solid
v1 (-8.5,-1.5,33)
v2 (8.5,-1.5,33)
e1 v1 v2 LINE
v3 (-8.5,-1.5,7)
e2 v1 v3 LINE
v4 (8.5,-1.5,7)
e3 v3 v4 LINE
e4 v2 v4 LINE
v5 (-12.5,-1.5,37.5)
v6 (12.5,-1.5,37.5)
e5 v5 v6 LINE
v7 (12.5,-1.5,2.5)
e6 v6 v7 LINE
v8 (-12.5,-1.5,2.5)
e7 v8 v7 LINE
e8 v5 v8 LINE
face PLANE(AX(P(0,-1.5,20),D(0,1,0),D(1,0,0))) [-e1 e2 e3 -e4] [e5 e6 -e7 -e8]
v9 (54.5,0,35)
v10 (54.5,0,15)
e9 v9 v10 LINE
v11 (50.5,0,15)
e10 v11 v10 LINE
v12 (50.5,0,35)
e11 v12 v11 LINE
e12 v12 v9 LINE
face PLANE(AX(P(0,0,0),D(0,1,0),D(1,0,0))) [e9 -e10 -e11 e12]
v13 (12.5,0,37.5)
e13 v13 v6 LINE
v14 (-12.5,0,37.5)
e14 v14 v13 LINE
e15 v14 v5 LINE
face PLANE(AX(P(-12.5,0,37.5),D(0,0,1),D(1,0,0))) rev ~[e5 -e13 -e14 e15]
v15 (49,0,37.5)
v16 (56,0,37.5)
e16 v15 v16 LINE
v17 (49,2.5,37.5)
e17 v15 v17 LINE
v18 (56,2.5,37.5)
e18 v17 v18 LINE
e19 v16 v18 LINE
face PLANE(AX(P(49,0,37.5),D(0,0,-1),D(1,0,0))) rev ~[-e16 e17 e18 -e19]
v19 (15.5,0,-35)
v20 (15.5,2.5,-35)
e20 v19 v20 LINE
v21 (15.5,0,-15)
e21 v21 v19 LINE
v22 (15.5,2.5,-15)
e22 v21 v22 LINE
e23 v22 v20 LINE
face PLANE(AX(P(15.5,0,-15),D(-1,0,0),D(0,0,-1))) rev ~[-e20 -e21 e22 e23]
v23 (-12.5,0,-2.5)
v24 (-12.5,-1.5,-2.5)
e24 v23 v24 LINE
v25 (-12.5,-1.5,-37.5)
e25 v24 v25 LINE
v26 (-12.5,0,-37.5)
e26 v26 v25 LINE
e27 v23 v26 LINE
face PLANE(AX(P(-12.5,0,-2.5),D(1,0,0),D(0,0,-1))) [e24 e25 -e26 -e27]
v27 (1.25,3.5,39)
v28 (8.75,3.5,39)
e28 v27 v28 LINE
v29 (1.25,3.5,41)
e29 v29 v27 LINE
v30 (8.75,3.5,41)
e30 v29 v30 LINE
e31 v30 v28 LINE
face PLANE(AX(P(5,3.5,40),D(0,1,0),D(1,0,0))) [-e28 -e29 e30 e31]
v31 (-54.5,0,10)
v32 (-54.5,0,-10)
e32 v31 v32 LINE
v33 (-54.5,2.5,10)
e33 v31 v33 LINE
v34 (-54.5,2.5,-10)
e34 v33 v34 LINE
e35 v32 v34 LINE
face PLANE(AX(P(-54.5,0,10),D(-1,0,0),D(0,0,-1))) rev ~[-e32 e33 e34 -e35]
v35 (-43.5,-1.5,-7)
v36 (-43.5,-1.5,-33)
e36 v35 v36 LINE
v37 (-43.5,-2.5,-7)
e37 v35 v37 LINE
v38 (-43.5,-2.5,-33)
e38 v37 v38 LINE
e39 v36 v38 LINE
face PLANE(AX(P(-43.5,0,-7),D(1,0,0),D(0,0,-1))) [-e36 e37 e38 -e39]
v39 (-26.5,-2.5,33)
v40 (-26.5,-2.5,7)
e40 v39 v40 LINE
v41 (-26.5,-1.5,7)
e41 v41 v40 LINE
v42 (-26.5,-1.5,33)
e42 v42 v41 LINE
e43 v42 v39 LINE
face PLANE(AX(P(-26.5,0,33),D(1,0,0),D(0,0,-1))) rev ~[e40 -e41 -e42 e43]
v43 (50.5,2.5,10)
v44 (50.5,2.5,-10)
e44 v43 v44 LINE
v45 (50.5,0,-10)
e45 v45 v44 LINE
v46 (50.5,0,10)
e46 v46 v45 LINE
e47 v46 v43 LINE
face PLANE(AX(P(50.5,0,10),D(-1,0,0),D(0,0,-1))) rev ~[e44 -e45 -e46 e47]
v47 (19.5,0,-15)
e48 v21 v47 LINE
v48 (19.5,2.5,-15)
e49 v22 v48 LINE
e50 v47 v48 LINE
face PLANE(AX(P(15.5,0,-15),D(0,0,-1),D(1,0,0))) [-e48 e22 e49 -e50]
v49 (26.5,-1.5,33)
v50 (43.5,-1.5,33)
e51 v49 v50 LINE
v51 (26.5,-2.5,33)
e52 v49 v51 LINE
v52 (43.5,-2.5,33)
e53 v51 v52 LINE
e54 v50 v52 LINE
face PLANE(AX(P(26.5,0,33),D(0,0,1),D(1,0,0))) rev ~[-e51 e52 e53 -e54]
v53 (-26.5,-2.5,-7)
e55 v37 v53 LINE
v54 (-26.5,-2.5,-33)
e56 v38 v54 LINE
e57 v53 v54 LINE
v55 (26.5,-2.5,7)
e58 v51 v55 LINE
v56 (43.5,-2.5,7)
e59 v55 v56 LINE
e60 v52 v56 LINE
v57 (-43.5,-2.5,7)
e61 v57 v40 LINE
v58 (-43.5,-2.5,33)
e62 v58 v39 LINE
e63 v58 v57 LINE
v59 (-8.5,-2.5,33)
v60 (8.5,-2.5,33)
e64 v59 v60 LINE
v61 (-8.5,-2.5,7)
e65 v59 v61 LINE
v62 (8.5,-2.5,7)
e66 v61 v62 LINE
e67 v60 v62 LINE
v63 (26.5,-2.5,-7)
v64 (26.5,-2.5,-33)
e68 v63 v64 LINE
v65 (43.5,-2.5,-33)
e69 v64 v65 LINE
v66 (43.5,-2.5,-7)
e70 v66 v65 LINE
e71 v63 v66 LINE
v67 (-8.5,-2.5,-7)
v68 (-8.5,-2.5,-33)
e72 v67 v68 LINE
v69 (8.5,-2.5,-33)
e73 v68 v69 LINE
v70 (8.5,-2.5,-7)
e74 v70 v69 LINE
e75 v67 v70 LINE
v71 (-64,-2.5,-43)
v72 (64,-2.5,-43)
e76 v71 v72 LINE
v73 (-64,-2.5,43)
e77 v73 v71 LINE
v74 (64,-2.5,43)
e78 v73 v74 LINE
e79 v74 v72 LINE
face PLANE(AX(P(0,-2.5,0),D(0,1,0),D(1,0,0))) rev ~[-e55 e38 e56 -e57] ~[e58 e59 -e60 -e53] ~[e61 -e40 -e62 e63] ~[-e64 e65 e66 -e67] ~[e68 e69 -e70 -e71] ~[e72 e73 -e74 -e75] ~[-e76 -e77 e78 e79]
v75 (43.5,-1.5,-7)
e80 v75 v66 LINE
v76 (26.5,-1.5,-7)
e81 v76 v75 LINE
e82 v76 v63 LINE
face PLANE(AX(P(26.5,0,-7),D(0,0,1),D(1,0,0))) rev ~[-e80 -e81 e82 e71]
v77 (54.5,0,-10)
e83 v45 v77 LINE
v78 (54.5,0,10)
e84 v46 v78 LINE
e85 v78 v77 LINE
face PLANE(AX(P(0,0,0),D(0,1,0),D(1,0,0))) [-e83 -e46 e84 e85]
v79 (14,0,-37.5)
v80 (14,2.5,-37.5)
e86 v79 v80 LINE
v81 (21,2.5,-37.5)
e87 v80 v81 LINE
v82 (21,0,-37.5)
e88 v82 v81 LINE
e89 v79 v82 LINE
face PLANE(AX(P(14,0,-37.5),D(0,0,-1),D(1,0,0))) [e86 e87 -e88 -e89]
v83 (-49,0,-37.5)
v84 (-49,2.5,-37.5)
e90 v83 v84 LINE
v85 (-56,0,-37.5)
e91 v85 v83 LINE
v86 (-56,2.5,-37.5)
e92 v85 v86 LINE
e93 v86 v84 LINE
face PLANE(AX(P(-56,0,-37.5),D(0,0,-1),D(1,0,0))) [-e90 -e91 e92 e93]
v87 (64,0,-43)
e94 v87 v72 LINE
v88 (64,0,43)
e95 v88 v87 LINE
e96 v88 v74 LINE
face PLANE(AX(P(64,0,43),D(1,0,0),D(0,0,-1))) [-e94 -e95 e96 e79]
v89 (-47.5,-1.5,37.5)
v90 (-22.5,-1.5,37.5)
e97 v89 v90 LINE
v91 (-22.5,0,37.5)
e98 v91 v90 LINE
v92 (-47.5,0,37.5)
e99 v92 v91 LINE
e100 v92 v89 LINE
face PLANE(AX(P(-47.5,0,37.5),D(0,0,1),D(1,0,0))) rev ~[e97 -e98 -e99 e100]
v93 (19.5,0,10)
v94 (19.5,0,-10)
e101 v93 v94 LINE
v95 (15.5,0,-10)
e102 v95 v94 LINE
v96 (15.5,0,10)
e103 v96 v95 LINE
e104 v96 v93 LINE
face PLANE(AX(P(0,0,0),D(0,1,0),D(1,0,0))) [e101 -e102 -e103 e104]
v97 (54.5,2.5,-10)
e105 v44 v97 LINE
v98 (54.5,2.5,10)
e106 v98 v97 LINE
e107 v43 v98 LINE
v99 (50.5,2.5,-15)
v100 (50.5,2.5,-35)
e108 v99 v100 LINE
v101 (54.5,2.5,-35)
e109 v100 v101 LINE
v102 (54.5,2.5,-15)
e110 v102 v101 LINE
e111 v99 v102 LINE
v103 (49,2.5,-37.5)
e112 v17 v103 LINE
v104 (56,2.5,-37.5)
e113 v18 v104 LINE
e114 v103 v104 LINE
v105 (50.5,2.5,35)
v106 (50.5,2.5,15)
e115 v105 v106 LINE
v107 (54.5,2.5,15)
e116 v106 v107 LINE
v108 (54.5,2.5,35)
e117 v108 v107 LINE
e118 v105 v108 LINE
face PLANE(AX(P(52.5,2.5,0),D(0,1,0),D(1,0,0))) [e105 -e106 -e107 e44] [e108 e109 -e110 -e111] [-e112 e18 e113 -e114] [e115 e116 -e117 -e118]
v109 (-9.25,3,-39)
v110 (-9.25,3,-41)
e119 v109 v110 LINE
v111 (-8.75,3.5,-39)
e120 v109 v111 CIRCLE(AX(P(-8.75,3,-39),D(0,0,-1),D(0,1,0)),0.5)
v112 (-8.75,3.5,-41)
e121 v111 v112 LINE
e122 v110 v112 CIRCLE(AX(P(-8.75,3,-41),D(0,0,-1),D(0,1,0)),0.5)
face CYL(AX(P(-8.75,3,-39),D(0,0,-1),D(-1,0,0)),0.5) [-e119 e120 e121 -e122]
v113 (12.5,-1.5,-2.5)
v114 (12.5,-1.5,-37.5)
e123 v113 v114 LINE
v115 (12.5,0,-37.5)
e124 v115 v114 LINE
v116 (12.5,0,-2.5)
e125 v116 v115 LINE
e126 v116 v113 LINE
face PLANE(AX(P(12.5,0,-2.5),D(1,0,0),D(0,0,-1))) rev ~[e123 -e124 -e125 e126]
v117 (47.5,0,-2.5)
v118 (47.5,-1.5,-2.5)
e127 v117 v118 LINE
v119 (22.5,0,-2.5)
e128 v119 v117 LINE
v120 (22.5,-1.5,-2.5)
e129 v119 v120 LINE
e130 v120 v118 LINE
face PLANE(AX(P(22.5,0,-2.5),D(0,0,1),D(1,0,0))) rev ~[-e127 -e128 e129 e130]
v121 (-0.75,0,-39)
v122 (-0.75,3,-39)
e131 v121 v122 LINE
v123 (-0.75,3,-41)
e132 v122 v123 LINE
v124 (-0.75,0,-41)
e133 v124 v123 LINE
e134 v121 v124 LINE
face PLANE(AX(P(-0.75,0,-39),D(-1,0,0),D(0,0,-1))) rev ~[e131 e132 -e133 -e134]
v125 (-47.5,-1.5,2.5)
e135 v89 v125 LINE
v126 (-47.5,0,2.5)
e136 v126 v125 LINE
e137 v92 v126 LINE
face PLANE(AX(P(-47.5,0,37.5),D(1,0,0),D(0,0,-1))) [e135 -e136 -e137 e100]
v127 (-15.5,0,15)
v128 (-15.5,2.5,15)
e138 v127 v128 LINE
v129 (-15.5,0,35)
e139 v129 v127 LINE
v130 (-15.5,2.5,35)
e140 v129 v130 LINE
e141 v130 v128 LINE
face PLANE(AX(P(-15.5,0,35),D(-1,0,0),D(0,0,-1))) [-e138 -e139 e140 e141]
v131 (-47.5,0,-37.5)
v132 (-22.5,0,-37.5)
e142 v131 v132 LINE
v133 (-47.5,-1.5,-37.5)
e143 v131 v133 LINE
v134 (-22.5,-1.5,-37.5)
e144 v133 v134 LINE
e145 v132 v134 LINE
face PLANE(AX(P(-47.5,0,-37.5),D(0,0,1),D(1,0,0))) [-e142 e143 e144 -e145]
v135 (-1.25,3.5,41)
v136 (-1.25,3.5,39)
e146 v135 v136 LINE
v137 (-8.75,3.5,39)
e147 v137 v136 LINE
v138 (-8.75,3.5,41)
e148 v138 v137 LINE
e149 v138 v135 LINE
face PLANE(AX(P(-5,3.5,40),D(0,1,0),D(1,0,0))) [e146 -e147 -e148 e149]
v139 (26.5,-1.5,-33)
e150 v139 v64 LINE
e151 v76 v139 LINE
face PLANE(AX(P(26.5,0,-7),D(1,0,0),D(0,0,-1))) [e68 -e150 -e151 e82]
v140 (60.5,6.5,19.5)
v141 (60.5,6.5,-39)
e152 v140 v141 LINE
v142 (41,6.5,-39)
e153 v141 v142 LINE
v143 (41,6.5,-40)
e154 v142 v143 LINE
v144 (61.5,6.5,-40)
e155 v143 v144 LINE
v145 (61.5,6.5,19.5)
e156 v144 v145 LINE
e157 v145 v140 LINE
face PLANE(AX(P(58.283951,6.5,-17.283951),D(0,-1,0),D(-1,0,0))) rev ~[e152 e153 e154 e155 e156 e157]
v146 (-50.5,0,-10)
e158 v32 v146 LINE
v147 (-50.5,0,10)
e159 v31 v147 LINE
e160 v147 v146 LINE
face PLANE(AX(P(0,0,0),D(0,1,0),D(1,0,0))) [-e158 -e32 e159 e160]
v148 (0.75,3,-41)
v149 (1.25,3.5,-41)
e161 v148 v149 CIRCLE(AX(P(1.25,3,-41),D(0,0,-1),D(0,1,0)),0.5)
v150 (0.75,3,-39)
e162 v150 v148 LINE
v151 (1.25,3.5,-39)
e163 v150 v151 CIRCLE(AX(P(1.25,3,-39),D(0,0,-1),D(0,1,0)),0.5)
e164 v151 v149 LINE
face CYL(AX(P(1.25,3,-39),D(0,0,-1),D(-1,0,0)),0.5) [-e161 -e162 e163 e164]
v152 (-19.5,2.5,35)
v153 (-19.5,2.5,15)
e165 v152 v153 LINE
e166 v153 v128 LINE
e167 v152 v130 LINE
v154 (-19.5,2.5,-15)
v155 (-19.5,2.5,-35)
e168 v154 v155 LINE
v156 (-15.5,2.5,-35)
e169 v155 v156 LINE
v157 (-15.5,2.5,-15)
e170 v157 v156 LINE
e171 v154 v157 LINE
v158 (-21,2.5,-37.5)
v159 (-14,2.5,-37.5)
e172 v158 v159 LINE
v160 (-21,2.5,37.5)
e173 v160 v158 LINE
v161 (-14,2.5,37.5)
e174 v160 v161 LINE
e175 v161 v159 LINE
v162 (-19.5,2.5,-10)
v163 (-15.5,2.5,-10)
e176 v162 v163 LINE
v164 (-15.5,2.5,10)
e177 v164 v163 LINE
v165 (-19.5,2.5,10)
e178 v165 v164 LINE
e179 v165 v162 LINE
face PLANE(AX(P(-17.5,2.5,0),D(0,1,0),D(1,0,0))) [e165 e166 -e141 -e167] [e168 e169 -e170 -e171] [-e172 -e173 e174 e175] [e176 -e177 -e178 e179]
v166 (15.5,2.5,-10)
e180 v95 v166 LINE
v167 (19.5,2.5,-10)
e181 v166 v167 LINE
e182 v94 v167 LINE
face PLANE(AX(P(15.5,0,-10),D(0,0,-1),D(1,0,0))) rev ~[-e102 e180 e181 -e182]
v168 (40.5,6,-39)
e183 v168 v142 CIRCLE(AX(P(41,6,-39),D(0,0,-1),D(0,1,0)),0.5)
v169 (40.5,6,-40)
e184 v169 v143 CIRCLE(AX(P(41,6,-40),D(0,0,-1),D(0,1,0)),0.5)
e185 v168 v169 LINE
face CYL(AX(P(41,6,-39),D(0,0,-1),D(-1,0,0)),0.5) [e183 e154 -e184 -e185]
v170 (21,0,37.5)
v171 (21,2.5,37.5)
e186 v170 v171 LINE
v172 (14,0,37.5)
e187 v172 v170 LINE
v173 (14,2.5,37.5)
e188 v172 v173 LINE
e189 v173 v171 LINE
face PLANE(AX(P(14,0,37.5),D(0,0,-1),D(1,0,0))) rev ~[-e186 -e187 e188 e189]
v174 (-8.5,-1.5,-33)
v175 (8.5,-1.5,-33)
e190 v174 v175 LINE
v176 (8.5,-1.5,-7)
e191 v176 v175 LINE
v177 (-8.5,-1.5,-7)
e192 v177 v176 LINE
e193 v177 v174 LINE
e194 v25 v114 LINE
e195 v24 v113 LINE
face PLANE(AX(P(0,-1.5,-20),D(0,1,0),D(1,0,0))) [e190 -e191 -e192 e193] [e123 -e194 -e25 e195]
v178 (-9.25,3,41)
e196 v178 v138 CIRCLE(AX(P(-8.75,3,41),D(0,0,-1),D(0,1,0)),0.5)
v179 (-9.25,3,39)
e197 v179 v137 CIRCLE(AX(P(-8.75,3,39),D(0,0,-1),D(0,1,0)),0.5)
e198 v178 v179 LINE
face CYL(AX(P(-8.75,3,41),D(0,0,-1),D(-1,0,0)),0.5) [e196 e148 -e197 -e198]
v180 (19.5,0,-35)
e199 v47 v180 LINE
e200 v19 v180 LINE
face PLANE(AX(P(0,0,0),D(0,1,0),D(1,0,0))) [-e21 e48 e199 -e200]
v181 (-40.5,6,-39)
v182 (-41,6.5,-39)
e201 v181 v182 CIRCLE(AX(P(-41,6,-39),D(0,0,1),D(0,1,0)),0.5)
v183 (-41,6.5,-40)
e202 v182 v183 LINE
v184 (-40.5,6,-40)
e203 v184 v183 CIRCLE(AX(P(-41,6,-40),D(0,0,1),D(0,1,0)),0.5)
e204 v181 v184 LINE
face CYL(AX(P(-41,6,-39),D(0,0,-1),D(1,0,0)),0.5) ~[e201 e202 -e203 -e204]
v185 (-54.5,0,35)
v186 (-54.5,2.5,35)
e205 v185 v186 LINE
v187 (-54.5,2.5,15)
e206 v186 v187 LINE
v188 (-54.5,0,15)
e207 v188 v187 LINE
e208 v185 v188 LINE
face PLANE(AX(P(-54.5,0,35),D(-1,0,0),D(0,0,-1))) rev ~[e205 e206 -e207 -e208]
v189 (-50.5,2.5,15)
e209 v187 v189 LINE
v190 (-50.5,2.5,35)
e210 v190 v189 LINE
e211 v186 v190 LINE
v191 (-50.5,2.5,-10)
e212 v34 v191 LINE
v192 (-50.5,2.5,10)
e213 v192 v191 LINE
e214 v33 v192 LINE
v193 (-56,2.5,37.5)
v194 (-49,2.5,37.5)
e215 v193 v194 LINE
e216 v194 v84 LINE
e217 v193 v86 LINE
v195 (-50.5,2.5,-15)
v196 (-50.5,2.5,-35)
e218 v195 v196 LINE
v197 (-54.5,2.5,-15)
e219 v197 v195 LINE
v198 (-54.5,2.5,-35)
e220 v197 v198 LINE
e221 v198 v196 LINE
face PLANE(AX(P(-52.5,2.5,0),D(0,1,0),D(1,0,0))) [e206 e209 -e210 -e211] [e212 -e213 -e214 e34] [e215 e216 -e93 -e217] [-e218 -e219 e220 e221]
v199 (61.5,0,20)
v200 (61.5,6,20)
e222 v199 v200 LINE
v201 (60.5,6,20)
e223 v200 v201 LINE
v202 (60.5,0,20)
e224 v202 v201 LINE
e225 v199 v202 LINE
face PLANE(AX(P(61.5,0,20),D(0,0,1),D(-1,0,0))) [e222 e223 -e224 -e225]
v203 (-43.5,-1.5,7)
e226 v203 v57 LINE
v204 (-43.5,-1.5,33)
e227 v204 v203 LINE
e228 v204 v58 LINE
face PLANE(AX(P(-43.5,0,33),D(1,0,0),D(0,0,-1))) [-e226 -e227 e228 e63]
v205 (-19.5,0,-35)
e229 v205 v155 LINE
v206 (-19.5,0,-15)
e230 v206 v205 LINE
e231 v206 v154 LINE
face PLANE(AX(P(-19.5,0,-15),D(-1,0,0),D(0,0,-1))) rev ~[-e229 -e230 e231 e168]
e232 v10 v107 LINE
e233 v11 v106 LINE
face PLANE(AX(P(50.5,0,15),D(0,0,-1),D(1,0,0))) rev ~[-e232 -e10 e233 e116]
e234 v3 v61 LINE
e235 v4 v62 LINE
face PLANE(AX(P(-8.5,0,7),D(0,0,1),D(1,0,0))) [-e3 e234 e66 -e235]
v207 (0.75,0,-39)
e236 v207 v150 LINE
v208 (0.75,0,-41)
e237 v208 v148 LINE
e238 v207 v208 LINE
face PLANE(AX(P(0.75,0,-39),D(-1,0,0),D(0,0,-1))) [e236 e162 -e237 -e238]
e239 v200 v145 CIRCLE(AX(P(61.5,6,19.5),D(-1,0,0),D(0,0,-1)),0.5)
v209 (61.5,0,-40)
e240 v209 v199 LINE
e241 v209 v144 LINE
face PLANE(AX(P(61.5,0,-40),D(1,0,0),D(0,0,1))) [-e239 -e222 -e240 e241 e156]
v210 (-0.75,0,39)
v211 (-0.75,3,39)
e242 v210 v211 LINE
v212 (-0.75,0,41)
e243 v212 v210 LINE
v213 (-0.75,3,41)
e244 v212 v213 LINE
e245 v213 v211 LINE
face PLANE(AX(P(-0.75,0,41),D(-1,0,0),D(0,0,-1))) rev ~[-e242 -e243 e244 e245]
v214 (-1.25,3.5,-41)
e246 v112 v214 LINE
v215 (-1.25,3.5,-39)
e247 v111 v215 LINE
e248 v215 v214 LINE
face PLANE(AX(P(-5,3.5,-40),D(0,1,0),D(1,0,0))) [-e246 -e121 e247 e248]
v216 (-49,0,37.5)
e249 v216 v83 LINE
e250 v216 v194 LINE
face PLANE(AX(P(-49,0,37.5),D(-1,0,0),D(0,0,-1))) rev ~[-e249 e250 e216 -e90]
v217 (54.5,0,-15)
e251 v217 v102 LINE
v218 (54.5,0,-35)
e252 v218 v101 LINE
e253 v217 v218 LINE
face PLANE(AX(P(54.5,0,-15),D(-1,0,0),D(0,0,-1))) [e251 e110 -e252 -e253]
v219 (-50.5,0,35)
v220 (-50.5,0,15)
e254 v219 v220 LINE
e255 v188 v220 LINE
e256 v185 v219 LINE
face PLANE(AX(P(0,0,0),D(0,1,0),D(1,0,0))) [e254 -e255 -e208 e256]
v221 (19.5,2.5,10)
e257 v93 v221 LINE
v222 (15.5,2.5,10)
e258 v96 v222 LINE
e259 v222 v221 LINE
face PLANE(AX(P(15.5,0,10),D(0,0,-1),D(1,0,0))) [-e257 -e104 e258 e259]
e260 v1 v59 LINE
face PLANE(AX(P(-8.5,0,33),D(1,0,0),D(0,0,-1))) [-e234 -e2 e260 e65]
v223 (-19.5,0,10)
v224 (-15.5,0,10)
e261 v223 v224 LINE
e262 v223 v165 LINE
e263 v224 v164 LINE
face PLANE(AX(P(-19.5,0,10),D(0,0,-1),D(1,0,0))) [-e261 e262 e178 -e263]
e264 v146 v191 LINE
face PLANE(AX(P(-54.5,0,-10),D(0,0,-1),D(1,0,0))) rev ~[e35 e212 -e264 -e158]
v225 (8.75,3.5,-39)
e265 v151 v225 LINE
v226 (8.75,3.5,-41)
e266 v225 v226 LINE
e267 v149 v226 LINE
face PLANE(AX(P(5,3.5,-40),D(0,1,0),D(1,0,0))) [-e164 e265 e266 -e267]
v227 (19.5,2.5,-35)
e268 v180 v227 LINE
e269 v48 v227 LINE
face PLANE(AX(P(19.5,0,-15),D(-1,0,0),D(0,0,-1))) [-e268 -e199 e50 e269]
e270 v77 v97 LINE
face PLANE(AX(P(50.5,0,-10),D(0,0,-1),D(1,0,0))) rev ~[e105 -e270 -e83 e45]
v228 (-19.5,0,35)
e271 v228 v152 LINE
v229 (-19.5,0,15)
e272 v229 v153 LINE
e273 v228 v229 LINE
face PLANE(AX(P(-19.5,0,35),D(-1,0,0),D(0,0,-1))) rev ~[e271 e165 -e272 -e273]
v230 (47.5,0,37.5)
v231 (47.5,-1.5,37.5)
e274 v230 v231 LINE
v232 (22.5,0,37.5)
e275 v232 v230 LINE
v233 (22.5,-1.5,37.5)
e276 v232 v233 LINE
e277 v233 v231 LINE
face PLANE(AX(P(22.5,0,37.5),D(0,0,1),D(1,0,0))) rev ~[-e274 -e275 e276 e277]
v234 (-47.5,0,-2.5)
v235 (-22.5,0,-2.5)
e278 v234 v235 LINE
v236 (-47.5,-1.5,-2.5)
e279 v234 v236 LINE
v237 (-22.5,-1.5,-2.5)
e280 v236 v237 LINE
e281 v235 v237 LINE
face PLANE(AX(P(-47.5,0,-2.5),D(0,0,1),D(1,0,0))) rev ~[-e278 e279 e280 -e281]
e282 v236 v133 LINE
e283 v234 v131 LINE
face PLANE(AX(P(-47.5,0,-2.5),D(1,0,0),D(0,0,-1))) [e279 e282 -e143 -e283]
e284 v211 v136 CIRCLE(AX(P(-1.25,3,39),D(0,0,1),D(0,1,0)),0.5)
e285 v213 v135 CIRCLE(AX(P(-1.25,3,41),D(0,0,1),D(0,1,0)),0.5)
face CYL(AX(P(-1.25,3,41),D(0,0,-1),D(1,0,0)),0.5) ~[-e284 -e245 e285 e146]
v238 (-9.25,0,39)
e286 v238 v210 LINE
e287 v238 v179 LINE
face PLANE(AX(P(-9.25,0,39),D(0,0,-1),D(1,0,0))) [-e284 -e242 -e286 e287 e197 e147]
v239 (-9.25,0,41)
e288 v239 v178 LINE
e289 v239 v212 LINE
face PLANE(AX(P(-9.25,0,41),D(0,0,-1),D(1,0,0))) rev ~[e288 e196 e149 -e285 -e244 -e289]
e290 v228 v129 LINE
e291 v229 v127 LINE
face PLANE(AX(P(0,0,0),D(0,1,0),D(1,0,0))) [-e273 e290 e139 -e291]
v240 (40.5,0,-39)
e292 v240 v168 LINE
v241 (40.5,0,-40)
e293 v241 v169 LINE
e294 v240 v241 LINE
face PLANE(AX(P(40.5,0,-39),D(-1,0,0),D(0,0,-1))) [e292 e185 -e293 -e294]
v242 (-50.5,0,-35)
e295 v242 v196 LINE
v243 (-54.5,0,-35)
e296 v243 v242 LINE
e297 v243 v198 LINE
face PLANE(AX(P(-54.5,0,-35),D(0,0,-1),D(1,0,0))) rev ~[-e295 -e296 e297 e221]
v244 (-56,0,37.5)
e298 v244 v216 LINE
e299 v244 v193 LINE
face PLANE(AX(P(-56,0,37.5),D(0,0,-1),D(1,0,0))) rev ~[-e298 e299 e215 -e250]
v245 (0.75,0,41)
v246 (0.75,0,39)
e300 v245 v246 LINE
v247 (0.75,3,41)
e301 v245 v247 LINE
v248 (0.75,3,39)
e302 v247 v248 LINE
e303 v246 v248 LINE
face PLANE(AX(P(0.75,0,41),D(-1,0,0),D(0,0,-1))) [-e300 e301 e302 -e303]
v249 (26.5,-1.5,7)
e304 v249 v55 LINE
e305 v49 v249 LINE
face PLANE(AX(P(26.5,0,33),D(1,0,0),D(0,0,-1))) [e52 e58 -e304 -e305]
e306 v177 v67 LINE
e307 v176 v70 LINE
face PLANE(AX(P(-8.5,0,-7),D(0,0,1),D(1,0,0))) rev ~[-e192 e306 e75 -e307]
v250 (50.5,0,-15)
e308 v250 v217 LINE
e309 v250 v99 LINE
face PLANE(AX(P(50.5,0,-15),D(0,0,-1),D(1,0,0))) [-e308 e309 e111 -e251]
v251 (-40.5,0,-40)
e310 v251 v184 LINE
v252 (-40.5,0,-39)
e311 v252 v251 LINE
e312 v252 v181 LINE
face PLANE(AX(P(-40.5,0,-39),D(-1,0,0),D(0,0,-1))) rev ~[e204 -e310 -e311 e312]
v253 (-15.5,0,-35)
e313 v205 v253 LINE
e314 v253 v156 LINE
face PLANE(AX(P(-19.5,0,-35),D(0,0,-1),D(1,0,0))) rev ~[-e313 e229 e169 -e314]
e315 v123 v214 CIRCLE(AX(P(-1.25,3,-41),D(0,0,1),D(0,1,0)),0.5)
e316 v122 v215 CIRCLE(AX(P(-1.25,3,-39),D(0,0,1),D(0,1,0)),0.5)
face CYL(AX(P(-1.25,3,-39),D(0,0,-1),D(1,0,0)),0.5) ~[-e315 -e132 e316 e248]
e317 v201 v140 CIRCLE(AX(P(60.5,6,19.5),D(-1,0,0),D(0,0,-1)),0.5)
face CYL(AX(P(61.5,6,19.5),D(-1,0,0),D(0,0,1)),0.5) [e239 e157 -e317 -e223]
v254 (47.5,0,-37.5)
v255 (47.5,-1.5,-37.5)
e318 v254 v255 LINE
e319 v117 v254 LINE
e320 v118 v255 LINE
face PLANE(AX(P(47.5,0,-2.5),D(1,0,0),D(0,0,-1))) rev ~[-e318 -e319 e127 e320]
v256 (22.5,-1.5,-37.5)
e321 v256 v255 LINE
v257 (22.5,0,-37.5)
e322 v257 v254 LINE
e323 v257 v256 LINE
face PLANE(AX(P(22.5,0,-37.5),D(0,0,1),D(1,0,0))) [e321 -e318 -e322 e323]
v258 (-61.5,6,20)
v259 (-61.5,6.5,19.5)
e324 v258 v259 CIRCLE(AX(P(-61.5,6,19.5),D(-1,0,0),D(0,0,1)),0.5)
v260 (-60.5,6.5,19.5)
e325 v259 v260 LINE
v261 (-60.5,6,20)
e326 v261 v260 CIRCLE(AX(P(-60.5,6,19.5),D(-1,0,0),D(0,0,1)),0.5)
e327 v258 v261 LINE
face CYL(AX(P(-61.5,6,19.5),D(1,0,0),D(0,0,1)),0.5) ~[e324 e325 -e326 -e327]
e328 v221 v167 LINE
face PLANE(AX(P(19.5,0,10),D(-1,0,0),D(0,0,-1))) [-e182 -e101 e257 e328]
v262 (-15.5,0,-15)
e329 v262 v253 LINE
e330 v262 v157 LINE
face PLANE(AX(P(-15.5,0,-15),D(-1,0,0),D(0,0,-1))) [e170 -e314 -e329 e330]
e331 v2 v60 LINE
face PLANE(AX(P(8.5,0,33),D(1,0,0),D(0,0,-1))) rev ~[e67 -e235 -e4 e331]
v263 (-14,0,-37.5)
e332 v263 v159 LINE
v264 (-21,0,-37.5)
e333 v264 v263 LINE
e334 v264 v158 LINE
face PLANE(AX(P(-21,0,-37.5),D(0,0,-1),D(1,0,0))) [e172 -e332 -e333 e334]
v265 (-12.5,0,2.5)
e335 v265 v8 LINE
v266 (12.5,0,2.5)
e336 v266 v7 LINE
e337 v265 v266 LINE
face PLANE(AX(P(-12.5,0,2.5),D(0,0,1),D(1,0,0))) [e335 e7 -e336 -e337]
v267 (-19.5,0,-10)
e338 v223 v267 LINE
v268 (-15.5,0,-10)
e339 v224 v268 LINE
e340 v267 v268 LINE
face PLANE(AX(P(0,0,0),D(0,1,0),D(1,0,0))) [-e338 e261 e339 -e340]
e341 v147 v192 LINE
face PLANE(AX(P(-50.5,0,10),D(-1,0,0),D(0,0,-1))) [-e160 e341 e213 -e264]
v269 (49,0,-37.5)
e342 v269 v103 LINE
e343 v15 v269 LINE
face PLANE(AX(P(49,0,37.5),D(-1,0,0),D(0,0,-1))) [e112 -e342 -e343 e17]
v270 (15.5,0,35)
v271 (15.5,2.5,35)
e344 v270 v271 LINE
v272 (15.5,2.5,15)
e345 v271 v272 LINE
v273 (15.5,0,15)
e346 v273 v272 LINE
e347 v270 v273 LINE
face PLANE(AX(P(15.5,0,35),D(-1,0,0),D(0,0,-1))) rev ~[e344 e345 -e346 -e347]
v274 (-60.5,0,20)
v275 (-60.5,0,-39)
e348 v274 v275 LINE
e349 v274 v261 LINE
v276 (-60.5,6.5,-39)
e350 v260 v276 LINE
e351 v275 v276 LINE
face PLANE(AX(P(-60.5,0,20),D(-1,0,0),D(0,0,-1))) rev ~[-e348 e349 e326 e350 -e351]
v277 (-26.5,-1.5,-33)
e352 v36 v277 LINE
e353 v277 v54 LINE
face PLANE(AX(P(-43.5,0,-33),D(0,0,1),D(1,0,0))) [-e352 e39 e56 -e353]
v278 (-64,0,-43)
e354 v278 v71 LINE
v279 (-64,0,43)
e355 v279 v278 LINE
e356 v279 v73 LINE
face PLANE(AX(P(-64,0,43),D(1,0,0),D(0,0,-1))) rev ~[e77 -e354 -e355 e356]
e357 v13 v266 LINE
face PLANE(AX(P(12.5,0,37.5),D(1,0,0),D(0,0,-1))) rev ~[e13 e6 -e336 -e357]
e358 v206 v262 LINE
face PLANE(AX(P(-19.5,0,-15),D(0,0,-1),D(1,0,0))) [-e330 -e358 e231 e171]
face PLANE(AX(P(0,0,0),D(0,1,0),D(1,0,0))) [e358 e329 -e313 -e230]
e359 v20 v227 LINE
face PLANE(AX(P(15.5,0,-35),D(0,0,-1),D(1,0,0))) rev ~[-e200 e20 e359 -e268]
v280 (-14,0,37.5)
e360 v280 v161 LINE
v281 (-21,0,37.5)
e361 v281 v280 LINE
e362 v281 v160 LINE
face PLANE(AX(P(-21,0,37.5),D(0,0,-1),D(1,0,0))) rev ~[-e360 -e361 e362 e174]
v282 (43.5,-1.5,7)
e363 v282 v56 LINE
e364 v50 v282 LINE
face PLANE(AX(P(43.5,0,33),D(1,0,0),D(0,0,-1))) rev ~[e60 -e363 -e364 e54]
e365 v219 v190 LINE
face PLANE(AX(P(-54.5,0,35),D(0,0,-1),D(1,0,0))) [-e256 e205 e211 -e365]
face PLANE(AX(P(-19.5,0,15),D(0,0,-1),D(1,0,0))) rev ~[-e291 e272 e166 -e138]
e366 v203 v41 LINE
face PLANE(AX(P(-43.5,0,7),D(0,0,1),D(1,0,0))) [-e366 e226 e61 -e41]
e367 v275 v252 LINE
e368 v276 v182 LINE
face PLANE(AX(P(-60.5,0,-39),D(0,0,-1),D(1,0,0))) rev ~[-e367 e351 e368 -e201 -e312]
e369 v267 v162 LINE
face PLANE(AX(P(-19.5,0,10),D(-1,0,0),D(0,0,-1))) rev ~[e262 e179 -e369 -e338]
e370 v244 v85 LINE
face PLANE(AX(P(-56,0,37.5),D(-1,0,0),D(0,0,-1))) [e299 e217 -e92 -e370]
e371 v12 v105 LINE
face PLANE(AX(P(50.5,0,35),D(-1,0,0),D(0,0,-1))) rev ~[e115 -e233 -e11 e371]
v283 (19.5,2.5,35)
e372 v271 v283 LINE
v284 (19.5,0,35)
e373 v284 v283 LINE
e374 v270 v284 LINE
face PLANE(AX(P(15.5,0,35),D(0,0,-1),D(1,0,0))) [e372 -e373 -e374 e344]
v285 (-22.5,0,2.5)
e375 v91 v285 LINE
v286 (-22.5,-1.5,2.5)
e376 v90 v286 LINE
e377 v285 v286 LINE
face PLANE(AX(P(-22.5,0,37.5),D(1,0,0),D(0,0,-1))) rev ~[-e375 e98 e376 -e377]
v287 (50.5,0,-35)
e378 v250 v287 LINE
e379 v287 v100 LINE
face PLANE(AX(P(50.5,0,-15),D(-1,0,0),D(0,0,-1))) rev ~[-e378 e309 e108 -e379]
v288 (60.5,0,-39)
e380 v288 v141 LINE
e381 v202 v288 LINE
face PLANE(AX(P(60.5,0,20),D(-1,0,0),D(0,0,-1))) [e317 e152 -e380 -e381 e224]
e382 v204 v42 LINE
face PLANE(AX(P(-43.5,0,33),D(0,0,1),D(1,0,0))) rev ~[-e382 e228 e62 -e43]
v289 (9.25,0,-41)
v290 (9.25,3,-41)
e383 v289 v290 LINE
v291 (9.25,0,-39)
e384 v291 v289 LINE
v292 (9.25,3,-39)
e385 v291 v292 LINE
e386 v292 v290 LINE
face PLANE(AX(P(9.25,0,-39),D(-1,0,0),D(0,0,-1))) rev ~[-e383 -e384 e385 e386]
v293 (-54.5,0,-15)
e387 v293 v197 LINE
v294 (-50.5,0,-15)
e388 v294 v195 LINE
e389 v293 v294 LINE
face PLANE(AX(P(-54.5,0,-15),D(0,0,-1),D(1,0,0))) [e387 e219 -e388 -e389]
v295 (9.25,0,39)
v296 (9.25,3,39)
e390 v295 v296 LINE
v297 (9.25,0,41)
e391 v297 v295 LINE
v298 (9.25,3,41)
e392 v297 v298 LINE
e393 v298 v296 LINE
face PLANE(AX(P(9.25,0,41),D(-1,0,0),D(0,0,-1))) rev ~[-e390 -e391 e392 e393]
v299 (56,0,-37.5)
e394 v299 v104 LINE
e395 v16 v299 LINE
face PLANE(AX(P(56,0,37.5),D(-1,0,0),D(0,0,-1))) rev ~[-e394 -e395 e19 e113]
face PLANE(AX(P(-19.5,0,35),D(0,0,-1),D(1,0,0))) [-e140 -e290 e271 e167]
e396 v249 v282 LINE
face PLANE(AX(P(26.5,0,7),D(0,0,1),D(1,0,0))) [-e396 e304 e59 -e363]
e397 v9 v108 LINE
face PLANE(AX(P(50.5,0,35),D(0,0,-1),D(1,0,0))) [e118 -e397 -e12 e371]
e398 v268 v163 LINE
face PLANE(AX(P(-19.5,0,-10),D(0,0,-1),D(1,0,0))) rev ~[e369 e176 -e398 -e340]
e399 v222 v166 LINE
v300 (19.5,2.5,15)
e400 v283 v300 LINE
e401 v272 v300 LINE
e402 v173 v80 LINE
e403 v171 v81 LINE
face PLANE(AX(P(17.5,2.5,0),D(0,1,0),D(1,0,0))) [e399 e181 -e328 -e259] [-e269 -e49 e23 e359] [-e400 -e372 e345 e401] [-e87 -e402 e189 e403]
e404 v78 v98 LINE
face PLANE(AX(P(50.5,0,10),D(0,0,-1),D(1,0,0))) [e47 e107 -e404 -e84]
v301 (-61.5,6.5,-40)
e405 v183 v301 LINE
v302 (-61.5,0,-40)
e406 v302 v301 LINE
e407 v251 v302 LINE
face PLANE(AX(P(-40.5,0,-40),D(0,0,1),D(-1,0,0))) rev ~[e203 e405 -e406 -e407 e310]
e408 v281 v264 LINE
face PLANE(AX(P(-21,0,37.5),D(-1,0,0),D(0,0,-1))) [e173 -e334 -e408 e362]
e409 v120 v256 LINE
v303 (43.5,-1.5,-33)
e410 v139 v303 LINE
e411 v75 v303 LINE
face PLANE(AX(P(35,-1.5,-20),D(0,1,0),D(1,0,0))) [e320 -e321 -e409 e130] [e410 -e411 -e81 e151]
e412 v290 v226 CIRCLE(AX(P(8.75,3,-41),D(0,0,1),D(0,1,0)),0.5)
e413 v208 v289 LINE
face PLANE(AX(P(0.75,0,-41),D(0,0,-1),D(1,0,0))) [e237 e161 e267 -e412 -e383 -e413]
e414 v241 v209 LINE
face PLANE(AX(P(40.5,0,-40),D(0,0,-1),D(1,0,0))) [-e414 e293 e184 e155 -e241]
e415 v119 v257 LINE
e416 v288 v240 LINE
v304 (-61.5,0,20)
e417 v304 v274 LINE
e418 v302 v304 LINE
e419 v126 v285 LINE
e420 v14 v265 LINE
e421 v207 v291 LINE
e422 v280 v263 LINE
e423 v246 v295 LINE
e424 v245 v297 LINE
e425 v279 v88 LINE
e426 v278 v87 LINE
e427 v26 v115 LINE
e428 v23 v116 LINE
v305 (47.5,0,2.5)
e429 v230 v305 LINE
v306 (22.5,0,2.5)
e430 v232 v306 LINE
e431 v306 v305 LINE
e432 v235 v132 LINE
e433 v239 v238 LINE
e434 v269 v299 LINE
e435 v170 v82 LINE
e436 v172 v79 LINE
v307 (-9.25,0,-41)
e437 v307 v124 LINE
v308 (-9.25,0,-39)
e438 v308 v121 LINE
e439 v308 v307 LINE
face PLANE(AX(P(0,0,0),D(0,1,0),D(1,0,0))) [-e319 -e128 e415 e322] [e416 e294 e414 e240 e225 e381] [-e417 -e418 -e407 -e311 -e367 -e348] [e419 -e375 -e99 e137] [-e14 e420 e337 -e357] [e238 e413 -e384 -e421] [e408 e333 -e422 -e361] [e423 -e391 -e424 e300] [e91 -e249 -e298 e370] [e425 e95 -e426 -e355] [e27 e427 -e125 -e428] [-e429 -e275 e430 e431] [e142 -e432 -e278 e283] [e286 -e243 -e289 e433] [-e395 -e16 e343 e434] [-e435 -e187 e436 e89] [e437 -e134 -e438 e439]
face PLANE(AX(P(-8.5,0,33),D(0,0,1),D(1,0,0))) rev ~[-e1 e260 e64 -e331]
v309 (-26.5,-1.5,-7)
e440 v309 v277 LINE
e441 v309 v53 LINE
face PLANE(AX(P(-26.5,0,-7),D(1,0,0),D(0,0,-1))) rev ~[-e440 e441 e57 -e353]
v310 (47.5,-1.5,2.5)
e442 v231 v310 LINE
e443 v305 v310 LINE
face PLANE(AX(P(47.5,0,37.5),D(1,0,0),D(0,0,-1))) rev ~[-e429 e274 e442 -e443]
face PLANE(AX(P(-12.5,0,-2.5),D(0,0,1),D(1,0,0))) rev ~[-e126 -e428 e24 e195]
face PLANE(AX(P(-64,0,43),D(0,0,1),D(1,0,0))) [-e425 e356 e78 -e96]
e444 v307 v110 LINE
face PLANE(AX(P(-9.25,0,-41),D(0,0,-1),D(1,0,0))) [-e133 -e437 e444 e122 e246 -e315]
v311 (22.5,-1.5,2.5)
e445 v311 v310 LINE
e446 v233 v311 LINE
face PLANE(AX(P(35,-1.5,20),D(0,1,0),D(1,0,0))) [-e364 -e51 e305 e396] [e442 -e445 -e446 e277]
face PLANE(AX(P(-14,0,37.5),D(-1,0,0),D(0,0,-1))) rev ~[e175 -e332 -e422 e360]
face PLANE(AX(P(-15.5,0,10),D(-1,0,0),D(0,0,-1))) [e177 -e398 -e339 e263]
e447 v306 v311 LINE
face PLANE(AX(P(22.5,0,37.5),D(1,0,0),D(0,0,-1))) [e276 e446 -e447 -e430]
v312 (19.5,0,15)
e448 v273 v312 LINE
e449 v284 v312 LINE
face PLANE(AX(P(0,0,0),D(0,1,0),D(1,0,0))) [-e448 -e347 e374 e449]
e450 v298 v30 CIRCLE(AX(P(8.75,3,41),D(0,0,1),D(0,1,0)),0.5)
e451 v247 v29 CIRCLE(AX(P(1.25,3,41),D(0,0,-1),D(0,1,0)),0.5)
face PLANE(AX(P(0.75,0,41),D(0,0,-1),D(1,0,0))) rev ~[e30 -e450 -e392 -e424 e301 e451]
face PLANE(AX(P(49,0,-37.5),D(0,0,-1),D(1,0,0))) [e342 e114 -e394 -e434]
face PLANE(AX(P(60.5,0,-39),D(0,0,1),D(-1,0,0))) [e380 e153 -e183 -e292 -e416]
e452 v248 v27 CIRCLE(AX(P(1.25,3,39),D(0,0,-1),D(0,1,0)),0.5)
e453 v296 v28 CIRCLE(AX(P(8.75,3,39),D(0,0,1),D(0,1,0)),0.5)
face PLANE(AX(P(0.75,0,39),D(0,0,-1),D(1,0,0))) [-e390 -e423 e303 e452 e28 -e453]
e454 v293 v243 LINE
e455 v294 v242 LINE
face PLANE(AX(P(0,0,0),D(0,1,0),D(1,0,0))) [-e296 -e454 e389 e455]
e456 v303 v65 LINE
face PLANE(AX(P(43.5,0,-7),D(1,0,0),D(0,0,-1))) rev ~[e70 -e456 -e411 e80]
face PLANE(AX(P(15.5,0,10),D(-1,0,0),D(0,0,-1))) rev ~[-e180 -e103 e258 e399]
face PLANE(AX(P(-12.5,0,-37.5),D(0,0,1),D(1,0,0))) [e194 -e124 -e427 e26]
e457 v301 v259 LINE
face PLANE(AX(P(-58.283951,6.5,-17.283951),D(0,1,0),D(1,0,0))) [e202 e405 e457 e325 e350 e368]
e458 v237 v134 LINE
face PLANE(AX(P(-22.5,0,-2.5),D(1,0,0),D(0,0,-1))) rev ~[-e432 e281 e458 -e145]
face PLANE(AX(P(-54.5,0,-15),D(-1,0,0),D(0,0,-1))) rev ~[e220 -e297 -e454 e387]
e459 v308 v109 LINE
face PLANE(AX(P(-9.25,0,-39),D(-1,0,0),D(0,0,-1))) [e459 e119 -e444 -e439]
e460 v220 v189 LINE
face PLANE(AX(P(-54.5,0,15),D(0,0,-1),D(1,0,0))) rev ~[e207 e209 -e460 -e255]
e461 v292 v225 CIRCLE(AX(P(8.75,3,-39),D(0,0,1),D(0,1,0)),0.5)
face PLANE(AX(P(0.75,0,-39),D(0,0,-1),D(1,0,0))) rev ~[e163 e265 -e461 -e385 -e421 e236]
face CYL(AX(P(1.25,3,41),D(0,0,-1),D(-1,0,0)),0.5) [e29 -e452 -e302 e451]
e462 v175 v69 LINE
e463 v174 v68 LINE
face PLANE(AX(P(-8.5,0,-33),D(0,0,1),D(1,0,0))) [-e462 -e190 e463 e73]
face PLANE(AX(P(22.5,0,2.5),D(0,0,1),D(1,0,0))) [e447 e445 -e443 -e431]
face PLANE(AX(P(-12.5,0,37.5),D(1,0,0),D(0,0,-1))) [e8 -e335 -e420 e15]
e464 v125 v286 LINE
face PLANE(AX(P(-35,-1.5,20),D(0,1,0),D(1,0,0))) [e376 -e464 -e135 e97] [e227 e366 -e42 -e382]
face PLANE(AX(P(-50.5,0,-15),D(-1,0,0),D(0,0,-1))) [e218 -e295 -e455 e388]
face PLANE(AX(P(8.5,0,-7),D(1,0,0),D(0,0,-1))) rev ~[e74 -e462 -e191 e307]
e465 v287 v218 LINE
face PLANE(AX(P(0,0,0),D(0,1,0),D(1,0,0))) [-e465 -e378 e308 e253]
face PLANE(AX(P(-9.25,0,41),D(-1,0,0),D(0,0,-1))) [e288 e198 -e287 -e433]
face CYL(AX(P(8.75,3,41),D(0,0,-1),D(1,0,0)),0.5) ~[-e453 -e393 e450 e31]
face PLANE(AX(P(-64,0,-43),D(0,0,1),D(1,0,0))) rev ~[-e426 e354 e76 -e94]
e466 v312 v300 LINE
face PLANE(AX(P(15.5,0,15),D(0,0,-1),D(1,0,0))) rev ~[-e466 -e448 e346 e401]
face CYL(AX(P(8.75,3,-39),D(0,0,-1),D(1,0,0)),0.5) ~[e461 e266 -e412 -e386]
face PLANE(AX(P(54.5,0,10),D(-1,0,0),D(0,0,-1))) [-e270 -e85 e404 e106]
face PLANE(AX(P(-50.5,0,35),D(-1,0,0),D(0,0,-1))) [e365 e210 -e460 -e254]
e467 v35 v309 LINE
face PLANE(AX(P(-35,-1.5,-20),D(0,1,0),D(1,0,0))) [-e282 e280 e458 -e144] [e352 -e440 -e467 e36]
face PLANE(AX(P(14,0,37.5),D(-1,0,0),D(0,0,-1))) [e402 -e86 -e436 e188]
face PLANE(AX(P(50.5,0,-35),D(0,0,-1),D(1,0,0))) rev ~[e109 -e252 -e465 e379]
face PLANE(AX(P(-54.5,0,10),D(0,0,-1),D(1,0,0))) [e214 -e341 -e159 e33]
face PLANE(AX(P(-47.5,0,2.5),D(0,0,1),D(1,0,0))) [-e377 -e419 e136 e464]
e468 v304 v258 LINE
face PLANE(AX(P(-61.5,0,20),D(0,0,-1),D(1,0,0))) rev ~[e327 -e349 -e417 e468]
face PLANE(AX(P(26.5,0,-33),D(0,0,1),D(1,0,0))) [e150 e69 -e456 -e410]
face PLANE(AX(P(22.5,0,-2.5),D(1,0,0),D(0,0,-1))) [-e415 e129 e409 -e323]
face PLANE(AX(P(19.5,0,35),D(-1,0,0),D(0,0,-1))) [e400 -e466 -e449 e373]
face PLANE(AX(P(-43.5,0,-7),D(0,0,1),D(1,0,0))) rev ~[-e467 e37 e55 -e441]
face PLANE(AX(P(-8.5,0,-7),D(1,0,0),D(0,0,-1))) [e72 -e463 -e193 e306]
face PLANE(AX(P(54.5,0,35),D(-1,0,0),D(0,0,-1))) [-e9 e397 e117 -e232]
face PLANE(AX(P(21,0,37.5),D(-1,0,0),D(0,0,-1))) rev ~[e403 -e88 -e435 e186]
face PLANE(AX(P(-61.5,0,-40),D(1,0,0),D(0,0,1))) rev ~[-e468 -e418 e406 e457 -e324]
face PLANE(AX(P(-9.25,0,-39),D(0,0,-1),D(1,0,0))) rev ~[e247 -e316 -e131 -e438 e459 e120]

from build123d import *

# Parameters (mm, degrees)
SKETCH2_W           = 128
SKETCH2_H           = 86
BOSS_EXTRUDE1_DEPTH = 2.5
SKETCH9_W           = 8.5
SKETCH9_H           = 2
BOSS_EXTRUDE3_DEPTH = 6.5
CUT_EXTRUDE9_START  = 3.5
SKETCH10_W          = 8.5
SKETCH10_H          = 2
CUT_EXTRUDE9_DEPTH  = 74.877322259
FILLET1_R           = 0.5
SKETCH3_W           = 25
SKETCH3_H           = 35
CUT_EXTRUDE10_DEPTH = 1.5
SKETCH11_W          = 17
SKETCH11_H          = 26
CUT_EXTRUDE11_DEPTH = 10
SKETCH12_W          = 7
SKETCH12_H          = 75
SKETCH12_W_2        = 4
SKETCH12_H_2        = 20
BOSS_EXTRUDE4_DEPTH = 2.5


with BuildPart() as part:
    # Sketch2 → Boss-Extrude1 (new body)
    with BuildSketch(Plane(origin=(0, 0, 0), x_dir=(1, 0, 0), z_dir=(0, 1, 0))):
        Rectangle(SKETCH2_W, SKETCH2_H)
    extrude(amount=-BOSS_EXTRUDE1_DEPTH)

    # Sketch9 → Boss-Extrude3 (add)
    with BuildSketch(Plane(origin=(0, 0, 0), x_dir=(1, 0, 0), z_dir=(0, 1, 0))):
        Polygon((-61.5, -20), (-60.5, -20), (-60.5, 39), (-40.5, 39), (-40.5, 40), (-61.5, 40), align=None)
        Polygon((40.5, 40), (61.5, 40), (61.5, -20), (60.5, -20), (60.5, 39), (40.5, 39), align=None)
        with Locations((-5, 40)):
            Rectangle(SKETCH9_W, SKETCH9_H)
        with Locations((5, 40)):
            Rectangle(SKETCH9_W, SKETCH9_H)
        with Locations((-5, -40)):
            Rectangle(SKETCH9_W, SKETCH9_H)
        with Locations((5, -40)):
            Rectangle(SKETCH9_W, SKETCH9_H)
    extrude(amount=BOSS_EXTRUDE3_DEPTH)

    # Sketch10 → Cut-Extrude9 (cut, through all)
    with BuildSketch(Plane(origin=(0, 0, 0), x_dir=(1, 0, 0), z_dir=(0, 1, 0)).offset(CUT_EXTRUDE9_START)):
        with Locations((-5, 40)):
            Rectangle(SKETCH10_W, SKETCH10_H)
        with Locations((5, 40)):
            Rectangle(SKETCH10_W, SKETCH10_H)
        with Locations((-5, -40)):
            Rectangle(SKETCH10_W, SKETCH10_H)
        with Locations((5, -40)):
            Rectangle(SKETCH10_W, SKETCH10_H)
    extrude(amount=CUT_EXTRUDE9_DEPTH, mode=Mode.SUBTRACT)

    # Fillet1
    fillet1_edges = [part.edges().sort_by_distance(p)[0] for p in [
        (0.75, 3.5, -40),
        (9.25, 3.5, -40),
        (-9.25, 3.5, 40),
        (-0.75, 3.5, 40),
        (0.75, 3.5, 40),
        (9.25, 3.5, 40),
        (-9.25, 3.5, -40),
        (-0.75, 3.5, -40),
        (40.5, 6.5, -39.5),
        (61, 6.5, 20),
        (-61, 6.5, 20),
        (-40.5, 6.5, -39.5),
    ]]
    fillet(fillet1_edges, radius=FILLET1_R)

    # Sketch3 → Cut-Extrude10 (cut)
    with BuildSketch(Plane(origin=(0, 0, 0), x_dir=(1, 0, 0), z_dir=(0, 1, 0))):
        with Locations((-35, 20)):
            Rectangle(SKETCH3_W, SKETCH3_H)
        with Locations((-35, -20)):
            Rectangle(SKETCH3_W, SKETCH3_H)
        with Locations((0, 20)):
            Rectangle(SKETCH3_W, SKETCH3_H)
        with Locations((0, -20)):
            Rectangle(SKETCH3_W, SKETCH3_H)
        with Locations((35, 20)):
            Rectangle(SKETCH3_W, SKETCH3_H)
        with Locations((35, -20)):
            Rectangle(SKETCH3_W, SKETCH3_H)
    extrude(amount=-CUT_EXTRUDE10_DEPTH, mode=Mode.SUBTRACT)

    # Sketch11 → Cut-Extrude11 (cut)
    with BuildSketch(Plane(origin=(0, 0, 0), x_dir=(1, 0, 0), z_dir=(0, 1, 0))):
        with Locations((0, -20)):
            Rectangle(SKETCH11_W, SKETCH11_H)
        with Locations((-35, -20)):
            Rectangle(SKETCH11_W, SKETCH11_H)
        with Locations((0, 20)):
            Rectangle(SKETCH11_W, SKETCH11_H)
        with Locations((35, 20)):
            Rectangle(SKETCH11_W, SKETCH11_H)
        with Locations((35, -20)):
            Rectangle(SKETCH11_W, SKETCH11_H)
        with Locations((-35, 20)):
            Rectangle(SKETCH11_W, SKETCH11_H)
    extrude(amount=-CUT_EXTRUDE11_DEPTH, mode=Mode.SUBTRACT)

    # Sketch12 → Boss-Extrude4 (add)
    # profile 1 of 4: a face of its own
    with BuildSketch(Plane(origin=(0, 0, 0), x_dir=(1, 0, 0), z_dir=(0, 1, 0))):
        with Locations((-17.5, 0)):
            Rectangle(SKETCH12_W, SKETCH12_H)
        with Locations((-17.5, 0)):
            Rectangle(SKETCH12_W_2, SKETCH12_H_2, mode=Mode.SUBTRACT)
        with Locations((-17.5, 25)):
            Rectangle(SKETCH12_W_2, SKETCH12_H_2, mode=Mode.SUBTRACT)
        with Locations((-17.5, -25)):
            Rectangle(SKETCH12_W_2, SKETCH12_H_2, mode=Mode.SUBTRACT)
    # profile 2 of 4: a face of its own
    with BuildSketch(Plane(origin=(0, 0, 0), x_dir=(1, 0, 0), z_dir=(0, 1, 0))):
        with Locations((-52.5, 0)):
            Rectangle(SKETCH12_W, SKETCH12_H)
        with Locations((-52.5, -25)):
            Rectangle(SKETCH12_W_2, SKETCH12_H_2, mode=Mode.SUBTRACT)
        with Locations((-52.5, 0)):
            Rectangle(SKETCH12_W_2, SKETCH12_H_2, mode=Mode.SUBTRACT)
        with Locations((-52.5, 25)):
            Rectangle(SKETCH12_W_2, SKETCH12_H_2, mode=Mode.SUBTRACT)
    # profile 3 of 4: a face of its own
    with BuildSketch(Plane(origin=(0, 0, 0), x_dir=(1, 0, 0), z_dir=(0, 1, 0))):
        with Locations((17.5, 0)):
            Rectangle(SKETCH12_W, SKETCH12_H)
        with Locations((17.5, -25)):
            Rectangle(SKETCH12_W_2, SKETCH12_H_2, mode=Mode.SUBTRACT)
        with Locations((17.5, 0)):
            Rectangle(SKETCH12_W_2, SKETCH12_H_2, mode=Mode.SUBTRACT)
        with Locations((17.5, 25)):
            Rectangle(SKETCH12_W_2, SKETCH12_H_2, mode=Mode.SUBTRACT)
    # profile 4 of 4: a face of its own
    with BuildSketch(Plane(origin=(0, 0, 0), x_dir=(1, 0, 0), z_dir=(0, 1, 0))):
        with Locations((52.5, 0)):
            Rectangle(SKETCH12_W, SKETCH12_H)
        with Locations((52.5, -25)):
            Rectangle(SKETCH12_W_2, SKETCH12_H_2, mode=Mode.SUBTRACT)
        with Locations((52.5, 0)):
            Rectangle(SKETCH12_W_2, SKETCH12_H_2, mode=Mode.SUBTRACT)
        with Locations((52.5, 25)):
            Rectangle(SKETCH12_W_2, SKETCH12_H_2, mode=Mode.SUBTRACT)
    extrude(amount=BOSS_EXTRUDE4_DEPTH)


solid = part.part
